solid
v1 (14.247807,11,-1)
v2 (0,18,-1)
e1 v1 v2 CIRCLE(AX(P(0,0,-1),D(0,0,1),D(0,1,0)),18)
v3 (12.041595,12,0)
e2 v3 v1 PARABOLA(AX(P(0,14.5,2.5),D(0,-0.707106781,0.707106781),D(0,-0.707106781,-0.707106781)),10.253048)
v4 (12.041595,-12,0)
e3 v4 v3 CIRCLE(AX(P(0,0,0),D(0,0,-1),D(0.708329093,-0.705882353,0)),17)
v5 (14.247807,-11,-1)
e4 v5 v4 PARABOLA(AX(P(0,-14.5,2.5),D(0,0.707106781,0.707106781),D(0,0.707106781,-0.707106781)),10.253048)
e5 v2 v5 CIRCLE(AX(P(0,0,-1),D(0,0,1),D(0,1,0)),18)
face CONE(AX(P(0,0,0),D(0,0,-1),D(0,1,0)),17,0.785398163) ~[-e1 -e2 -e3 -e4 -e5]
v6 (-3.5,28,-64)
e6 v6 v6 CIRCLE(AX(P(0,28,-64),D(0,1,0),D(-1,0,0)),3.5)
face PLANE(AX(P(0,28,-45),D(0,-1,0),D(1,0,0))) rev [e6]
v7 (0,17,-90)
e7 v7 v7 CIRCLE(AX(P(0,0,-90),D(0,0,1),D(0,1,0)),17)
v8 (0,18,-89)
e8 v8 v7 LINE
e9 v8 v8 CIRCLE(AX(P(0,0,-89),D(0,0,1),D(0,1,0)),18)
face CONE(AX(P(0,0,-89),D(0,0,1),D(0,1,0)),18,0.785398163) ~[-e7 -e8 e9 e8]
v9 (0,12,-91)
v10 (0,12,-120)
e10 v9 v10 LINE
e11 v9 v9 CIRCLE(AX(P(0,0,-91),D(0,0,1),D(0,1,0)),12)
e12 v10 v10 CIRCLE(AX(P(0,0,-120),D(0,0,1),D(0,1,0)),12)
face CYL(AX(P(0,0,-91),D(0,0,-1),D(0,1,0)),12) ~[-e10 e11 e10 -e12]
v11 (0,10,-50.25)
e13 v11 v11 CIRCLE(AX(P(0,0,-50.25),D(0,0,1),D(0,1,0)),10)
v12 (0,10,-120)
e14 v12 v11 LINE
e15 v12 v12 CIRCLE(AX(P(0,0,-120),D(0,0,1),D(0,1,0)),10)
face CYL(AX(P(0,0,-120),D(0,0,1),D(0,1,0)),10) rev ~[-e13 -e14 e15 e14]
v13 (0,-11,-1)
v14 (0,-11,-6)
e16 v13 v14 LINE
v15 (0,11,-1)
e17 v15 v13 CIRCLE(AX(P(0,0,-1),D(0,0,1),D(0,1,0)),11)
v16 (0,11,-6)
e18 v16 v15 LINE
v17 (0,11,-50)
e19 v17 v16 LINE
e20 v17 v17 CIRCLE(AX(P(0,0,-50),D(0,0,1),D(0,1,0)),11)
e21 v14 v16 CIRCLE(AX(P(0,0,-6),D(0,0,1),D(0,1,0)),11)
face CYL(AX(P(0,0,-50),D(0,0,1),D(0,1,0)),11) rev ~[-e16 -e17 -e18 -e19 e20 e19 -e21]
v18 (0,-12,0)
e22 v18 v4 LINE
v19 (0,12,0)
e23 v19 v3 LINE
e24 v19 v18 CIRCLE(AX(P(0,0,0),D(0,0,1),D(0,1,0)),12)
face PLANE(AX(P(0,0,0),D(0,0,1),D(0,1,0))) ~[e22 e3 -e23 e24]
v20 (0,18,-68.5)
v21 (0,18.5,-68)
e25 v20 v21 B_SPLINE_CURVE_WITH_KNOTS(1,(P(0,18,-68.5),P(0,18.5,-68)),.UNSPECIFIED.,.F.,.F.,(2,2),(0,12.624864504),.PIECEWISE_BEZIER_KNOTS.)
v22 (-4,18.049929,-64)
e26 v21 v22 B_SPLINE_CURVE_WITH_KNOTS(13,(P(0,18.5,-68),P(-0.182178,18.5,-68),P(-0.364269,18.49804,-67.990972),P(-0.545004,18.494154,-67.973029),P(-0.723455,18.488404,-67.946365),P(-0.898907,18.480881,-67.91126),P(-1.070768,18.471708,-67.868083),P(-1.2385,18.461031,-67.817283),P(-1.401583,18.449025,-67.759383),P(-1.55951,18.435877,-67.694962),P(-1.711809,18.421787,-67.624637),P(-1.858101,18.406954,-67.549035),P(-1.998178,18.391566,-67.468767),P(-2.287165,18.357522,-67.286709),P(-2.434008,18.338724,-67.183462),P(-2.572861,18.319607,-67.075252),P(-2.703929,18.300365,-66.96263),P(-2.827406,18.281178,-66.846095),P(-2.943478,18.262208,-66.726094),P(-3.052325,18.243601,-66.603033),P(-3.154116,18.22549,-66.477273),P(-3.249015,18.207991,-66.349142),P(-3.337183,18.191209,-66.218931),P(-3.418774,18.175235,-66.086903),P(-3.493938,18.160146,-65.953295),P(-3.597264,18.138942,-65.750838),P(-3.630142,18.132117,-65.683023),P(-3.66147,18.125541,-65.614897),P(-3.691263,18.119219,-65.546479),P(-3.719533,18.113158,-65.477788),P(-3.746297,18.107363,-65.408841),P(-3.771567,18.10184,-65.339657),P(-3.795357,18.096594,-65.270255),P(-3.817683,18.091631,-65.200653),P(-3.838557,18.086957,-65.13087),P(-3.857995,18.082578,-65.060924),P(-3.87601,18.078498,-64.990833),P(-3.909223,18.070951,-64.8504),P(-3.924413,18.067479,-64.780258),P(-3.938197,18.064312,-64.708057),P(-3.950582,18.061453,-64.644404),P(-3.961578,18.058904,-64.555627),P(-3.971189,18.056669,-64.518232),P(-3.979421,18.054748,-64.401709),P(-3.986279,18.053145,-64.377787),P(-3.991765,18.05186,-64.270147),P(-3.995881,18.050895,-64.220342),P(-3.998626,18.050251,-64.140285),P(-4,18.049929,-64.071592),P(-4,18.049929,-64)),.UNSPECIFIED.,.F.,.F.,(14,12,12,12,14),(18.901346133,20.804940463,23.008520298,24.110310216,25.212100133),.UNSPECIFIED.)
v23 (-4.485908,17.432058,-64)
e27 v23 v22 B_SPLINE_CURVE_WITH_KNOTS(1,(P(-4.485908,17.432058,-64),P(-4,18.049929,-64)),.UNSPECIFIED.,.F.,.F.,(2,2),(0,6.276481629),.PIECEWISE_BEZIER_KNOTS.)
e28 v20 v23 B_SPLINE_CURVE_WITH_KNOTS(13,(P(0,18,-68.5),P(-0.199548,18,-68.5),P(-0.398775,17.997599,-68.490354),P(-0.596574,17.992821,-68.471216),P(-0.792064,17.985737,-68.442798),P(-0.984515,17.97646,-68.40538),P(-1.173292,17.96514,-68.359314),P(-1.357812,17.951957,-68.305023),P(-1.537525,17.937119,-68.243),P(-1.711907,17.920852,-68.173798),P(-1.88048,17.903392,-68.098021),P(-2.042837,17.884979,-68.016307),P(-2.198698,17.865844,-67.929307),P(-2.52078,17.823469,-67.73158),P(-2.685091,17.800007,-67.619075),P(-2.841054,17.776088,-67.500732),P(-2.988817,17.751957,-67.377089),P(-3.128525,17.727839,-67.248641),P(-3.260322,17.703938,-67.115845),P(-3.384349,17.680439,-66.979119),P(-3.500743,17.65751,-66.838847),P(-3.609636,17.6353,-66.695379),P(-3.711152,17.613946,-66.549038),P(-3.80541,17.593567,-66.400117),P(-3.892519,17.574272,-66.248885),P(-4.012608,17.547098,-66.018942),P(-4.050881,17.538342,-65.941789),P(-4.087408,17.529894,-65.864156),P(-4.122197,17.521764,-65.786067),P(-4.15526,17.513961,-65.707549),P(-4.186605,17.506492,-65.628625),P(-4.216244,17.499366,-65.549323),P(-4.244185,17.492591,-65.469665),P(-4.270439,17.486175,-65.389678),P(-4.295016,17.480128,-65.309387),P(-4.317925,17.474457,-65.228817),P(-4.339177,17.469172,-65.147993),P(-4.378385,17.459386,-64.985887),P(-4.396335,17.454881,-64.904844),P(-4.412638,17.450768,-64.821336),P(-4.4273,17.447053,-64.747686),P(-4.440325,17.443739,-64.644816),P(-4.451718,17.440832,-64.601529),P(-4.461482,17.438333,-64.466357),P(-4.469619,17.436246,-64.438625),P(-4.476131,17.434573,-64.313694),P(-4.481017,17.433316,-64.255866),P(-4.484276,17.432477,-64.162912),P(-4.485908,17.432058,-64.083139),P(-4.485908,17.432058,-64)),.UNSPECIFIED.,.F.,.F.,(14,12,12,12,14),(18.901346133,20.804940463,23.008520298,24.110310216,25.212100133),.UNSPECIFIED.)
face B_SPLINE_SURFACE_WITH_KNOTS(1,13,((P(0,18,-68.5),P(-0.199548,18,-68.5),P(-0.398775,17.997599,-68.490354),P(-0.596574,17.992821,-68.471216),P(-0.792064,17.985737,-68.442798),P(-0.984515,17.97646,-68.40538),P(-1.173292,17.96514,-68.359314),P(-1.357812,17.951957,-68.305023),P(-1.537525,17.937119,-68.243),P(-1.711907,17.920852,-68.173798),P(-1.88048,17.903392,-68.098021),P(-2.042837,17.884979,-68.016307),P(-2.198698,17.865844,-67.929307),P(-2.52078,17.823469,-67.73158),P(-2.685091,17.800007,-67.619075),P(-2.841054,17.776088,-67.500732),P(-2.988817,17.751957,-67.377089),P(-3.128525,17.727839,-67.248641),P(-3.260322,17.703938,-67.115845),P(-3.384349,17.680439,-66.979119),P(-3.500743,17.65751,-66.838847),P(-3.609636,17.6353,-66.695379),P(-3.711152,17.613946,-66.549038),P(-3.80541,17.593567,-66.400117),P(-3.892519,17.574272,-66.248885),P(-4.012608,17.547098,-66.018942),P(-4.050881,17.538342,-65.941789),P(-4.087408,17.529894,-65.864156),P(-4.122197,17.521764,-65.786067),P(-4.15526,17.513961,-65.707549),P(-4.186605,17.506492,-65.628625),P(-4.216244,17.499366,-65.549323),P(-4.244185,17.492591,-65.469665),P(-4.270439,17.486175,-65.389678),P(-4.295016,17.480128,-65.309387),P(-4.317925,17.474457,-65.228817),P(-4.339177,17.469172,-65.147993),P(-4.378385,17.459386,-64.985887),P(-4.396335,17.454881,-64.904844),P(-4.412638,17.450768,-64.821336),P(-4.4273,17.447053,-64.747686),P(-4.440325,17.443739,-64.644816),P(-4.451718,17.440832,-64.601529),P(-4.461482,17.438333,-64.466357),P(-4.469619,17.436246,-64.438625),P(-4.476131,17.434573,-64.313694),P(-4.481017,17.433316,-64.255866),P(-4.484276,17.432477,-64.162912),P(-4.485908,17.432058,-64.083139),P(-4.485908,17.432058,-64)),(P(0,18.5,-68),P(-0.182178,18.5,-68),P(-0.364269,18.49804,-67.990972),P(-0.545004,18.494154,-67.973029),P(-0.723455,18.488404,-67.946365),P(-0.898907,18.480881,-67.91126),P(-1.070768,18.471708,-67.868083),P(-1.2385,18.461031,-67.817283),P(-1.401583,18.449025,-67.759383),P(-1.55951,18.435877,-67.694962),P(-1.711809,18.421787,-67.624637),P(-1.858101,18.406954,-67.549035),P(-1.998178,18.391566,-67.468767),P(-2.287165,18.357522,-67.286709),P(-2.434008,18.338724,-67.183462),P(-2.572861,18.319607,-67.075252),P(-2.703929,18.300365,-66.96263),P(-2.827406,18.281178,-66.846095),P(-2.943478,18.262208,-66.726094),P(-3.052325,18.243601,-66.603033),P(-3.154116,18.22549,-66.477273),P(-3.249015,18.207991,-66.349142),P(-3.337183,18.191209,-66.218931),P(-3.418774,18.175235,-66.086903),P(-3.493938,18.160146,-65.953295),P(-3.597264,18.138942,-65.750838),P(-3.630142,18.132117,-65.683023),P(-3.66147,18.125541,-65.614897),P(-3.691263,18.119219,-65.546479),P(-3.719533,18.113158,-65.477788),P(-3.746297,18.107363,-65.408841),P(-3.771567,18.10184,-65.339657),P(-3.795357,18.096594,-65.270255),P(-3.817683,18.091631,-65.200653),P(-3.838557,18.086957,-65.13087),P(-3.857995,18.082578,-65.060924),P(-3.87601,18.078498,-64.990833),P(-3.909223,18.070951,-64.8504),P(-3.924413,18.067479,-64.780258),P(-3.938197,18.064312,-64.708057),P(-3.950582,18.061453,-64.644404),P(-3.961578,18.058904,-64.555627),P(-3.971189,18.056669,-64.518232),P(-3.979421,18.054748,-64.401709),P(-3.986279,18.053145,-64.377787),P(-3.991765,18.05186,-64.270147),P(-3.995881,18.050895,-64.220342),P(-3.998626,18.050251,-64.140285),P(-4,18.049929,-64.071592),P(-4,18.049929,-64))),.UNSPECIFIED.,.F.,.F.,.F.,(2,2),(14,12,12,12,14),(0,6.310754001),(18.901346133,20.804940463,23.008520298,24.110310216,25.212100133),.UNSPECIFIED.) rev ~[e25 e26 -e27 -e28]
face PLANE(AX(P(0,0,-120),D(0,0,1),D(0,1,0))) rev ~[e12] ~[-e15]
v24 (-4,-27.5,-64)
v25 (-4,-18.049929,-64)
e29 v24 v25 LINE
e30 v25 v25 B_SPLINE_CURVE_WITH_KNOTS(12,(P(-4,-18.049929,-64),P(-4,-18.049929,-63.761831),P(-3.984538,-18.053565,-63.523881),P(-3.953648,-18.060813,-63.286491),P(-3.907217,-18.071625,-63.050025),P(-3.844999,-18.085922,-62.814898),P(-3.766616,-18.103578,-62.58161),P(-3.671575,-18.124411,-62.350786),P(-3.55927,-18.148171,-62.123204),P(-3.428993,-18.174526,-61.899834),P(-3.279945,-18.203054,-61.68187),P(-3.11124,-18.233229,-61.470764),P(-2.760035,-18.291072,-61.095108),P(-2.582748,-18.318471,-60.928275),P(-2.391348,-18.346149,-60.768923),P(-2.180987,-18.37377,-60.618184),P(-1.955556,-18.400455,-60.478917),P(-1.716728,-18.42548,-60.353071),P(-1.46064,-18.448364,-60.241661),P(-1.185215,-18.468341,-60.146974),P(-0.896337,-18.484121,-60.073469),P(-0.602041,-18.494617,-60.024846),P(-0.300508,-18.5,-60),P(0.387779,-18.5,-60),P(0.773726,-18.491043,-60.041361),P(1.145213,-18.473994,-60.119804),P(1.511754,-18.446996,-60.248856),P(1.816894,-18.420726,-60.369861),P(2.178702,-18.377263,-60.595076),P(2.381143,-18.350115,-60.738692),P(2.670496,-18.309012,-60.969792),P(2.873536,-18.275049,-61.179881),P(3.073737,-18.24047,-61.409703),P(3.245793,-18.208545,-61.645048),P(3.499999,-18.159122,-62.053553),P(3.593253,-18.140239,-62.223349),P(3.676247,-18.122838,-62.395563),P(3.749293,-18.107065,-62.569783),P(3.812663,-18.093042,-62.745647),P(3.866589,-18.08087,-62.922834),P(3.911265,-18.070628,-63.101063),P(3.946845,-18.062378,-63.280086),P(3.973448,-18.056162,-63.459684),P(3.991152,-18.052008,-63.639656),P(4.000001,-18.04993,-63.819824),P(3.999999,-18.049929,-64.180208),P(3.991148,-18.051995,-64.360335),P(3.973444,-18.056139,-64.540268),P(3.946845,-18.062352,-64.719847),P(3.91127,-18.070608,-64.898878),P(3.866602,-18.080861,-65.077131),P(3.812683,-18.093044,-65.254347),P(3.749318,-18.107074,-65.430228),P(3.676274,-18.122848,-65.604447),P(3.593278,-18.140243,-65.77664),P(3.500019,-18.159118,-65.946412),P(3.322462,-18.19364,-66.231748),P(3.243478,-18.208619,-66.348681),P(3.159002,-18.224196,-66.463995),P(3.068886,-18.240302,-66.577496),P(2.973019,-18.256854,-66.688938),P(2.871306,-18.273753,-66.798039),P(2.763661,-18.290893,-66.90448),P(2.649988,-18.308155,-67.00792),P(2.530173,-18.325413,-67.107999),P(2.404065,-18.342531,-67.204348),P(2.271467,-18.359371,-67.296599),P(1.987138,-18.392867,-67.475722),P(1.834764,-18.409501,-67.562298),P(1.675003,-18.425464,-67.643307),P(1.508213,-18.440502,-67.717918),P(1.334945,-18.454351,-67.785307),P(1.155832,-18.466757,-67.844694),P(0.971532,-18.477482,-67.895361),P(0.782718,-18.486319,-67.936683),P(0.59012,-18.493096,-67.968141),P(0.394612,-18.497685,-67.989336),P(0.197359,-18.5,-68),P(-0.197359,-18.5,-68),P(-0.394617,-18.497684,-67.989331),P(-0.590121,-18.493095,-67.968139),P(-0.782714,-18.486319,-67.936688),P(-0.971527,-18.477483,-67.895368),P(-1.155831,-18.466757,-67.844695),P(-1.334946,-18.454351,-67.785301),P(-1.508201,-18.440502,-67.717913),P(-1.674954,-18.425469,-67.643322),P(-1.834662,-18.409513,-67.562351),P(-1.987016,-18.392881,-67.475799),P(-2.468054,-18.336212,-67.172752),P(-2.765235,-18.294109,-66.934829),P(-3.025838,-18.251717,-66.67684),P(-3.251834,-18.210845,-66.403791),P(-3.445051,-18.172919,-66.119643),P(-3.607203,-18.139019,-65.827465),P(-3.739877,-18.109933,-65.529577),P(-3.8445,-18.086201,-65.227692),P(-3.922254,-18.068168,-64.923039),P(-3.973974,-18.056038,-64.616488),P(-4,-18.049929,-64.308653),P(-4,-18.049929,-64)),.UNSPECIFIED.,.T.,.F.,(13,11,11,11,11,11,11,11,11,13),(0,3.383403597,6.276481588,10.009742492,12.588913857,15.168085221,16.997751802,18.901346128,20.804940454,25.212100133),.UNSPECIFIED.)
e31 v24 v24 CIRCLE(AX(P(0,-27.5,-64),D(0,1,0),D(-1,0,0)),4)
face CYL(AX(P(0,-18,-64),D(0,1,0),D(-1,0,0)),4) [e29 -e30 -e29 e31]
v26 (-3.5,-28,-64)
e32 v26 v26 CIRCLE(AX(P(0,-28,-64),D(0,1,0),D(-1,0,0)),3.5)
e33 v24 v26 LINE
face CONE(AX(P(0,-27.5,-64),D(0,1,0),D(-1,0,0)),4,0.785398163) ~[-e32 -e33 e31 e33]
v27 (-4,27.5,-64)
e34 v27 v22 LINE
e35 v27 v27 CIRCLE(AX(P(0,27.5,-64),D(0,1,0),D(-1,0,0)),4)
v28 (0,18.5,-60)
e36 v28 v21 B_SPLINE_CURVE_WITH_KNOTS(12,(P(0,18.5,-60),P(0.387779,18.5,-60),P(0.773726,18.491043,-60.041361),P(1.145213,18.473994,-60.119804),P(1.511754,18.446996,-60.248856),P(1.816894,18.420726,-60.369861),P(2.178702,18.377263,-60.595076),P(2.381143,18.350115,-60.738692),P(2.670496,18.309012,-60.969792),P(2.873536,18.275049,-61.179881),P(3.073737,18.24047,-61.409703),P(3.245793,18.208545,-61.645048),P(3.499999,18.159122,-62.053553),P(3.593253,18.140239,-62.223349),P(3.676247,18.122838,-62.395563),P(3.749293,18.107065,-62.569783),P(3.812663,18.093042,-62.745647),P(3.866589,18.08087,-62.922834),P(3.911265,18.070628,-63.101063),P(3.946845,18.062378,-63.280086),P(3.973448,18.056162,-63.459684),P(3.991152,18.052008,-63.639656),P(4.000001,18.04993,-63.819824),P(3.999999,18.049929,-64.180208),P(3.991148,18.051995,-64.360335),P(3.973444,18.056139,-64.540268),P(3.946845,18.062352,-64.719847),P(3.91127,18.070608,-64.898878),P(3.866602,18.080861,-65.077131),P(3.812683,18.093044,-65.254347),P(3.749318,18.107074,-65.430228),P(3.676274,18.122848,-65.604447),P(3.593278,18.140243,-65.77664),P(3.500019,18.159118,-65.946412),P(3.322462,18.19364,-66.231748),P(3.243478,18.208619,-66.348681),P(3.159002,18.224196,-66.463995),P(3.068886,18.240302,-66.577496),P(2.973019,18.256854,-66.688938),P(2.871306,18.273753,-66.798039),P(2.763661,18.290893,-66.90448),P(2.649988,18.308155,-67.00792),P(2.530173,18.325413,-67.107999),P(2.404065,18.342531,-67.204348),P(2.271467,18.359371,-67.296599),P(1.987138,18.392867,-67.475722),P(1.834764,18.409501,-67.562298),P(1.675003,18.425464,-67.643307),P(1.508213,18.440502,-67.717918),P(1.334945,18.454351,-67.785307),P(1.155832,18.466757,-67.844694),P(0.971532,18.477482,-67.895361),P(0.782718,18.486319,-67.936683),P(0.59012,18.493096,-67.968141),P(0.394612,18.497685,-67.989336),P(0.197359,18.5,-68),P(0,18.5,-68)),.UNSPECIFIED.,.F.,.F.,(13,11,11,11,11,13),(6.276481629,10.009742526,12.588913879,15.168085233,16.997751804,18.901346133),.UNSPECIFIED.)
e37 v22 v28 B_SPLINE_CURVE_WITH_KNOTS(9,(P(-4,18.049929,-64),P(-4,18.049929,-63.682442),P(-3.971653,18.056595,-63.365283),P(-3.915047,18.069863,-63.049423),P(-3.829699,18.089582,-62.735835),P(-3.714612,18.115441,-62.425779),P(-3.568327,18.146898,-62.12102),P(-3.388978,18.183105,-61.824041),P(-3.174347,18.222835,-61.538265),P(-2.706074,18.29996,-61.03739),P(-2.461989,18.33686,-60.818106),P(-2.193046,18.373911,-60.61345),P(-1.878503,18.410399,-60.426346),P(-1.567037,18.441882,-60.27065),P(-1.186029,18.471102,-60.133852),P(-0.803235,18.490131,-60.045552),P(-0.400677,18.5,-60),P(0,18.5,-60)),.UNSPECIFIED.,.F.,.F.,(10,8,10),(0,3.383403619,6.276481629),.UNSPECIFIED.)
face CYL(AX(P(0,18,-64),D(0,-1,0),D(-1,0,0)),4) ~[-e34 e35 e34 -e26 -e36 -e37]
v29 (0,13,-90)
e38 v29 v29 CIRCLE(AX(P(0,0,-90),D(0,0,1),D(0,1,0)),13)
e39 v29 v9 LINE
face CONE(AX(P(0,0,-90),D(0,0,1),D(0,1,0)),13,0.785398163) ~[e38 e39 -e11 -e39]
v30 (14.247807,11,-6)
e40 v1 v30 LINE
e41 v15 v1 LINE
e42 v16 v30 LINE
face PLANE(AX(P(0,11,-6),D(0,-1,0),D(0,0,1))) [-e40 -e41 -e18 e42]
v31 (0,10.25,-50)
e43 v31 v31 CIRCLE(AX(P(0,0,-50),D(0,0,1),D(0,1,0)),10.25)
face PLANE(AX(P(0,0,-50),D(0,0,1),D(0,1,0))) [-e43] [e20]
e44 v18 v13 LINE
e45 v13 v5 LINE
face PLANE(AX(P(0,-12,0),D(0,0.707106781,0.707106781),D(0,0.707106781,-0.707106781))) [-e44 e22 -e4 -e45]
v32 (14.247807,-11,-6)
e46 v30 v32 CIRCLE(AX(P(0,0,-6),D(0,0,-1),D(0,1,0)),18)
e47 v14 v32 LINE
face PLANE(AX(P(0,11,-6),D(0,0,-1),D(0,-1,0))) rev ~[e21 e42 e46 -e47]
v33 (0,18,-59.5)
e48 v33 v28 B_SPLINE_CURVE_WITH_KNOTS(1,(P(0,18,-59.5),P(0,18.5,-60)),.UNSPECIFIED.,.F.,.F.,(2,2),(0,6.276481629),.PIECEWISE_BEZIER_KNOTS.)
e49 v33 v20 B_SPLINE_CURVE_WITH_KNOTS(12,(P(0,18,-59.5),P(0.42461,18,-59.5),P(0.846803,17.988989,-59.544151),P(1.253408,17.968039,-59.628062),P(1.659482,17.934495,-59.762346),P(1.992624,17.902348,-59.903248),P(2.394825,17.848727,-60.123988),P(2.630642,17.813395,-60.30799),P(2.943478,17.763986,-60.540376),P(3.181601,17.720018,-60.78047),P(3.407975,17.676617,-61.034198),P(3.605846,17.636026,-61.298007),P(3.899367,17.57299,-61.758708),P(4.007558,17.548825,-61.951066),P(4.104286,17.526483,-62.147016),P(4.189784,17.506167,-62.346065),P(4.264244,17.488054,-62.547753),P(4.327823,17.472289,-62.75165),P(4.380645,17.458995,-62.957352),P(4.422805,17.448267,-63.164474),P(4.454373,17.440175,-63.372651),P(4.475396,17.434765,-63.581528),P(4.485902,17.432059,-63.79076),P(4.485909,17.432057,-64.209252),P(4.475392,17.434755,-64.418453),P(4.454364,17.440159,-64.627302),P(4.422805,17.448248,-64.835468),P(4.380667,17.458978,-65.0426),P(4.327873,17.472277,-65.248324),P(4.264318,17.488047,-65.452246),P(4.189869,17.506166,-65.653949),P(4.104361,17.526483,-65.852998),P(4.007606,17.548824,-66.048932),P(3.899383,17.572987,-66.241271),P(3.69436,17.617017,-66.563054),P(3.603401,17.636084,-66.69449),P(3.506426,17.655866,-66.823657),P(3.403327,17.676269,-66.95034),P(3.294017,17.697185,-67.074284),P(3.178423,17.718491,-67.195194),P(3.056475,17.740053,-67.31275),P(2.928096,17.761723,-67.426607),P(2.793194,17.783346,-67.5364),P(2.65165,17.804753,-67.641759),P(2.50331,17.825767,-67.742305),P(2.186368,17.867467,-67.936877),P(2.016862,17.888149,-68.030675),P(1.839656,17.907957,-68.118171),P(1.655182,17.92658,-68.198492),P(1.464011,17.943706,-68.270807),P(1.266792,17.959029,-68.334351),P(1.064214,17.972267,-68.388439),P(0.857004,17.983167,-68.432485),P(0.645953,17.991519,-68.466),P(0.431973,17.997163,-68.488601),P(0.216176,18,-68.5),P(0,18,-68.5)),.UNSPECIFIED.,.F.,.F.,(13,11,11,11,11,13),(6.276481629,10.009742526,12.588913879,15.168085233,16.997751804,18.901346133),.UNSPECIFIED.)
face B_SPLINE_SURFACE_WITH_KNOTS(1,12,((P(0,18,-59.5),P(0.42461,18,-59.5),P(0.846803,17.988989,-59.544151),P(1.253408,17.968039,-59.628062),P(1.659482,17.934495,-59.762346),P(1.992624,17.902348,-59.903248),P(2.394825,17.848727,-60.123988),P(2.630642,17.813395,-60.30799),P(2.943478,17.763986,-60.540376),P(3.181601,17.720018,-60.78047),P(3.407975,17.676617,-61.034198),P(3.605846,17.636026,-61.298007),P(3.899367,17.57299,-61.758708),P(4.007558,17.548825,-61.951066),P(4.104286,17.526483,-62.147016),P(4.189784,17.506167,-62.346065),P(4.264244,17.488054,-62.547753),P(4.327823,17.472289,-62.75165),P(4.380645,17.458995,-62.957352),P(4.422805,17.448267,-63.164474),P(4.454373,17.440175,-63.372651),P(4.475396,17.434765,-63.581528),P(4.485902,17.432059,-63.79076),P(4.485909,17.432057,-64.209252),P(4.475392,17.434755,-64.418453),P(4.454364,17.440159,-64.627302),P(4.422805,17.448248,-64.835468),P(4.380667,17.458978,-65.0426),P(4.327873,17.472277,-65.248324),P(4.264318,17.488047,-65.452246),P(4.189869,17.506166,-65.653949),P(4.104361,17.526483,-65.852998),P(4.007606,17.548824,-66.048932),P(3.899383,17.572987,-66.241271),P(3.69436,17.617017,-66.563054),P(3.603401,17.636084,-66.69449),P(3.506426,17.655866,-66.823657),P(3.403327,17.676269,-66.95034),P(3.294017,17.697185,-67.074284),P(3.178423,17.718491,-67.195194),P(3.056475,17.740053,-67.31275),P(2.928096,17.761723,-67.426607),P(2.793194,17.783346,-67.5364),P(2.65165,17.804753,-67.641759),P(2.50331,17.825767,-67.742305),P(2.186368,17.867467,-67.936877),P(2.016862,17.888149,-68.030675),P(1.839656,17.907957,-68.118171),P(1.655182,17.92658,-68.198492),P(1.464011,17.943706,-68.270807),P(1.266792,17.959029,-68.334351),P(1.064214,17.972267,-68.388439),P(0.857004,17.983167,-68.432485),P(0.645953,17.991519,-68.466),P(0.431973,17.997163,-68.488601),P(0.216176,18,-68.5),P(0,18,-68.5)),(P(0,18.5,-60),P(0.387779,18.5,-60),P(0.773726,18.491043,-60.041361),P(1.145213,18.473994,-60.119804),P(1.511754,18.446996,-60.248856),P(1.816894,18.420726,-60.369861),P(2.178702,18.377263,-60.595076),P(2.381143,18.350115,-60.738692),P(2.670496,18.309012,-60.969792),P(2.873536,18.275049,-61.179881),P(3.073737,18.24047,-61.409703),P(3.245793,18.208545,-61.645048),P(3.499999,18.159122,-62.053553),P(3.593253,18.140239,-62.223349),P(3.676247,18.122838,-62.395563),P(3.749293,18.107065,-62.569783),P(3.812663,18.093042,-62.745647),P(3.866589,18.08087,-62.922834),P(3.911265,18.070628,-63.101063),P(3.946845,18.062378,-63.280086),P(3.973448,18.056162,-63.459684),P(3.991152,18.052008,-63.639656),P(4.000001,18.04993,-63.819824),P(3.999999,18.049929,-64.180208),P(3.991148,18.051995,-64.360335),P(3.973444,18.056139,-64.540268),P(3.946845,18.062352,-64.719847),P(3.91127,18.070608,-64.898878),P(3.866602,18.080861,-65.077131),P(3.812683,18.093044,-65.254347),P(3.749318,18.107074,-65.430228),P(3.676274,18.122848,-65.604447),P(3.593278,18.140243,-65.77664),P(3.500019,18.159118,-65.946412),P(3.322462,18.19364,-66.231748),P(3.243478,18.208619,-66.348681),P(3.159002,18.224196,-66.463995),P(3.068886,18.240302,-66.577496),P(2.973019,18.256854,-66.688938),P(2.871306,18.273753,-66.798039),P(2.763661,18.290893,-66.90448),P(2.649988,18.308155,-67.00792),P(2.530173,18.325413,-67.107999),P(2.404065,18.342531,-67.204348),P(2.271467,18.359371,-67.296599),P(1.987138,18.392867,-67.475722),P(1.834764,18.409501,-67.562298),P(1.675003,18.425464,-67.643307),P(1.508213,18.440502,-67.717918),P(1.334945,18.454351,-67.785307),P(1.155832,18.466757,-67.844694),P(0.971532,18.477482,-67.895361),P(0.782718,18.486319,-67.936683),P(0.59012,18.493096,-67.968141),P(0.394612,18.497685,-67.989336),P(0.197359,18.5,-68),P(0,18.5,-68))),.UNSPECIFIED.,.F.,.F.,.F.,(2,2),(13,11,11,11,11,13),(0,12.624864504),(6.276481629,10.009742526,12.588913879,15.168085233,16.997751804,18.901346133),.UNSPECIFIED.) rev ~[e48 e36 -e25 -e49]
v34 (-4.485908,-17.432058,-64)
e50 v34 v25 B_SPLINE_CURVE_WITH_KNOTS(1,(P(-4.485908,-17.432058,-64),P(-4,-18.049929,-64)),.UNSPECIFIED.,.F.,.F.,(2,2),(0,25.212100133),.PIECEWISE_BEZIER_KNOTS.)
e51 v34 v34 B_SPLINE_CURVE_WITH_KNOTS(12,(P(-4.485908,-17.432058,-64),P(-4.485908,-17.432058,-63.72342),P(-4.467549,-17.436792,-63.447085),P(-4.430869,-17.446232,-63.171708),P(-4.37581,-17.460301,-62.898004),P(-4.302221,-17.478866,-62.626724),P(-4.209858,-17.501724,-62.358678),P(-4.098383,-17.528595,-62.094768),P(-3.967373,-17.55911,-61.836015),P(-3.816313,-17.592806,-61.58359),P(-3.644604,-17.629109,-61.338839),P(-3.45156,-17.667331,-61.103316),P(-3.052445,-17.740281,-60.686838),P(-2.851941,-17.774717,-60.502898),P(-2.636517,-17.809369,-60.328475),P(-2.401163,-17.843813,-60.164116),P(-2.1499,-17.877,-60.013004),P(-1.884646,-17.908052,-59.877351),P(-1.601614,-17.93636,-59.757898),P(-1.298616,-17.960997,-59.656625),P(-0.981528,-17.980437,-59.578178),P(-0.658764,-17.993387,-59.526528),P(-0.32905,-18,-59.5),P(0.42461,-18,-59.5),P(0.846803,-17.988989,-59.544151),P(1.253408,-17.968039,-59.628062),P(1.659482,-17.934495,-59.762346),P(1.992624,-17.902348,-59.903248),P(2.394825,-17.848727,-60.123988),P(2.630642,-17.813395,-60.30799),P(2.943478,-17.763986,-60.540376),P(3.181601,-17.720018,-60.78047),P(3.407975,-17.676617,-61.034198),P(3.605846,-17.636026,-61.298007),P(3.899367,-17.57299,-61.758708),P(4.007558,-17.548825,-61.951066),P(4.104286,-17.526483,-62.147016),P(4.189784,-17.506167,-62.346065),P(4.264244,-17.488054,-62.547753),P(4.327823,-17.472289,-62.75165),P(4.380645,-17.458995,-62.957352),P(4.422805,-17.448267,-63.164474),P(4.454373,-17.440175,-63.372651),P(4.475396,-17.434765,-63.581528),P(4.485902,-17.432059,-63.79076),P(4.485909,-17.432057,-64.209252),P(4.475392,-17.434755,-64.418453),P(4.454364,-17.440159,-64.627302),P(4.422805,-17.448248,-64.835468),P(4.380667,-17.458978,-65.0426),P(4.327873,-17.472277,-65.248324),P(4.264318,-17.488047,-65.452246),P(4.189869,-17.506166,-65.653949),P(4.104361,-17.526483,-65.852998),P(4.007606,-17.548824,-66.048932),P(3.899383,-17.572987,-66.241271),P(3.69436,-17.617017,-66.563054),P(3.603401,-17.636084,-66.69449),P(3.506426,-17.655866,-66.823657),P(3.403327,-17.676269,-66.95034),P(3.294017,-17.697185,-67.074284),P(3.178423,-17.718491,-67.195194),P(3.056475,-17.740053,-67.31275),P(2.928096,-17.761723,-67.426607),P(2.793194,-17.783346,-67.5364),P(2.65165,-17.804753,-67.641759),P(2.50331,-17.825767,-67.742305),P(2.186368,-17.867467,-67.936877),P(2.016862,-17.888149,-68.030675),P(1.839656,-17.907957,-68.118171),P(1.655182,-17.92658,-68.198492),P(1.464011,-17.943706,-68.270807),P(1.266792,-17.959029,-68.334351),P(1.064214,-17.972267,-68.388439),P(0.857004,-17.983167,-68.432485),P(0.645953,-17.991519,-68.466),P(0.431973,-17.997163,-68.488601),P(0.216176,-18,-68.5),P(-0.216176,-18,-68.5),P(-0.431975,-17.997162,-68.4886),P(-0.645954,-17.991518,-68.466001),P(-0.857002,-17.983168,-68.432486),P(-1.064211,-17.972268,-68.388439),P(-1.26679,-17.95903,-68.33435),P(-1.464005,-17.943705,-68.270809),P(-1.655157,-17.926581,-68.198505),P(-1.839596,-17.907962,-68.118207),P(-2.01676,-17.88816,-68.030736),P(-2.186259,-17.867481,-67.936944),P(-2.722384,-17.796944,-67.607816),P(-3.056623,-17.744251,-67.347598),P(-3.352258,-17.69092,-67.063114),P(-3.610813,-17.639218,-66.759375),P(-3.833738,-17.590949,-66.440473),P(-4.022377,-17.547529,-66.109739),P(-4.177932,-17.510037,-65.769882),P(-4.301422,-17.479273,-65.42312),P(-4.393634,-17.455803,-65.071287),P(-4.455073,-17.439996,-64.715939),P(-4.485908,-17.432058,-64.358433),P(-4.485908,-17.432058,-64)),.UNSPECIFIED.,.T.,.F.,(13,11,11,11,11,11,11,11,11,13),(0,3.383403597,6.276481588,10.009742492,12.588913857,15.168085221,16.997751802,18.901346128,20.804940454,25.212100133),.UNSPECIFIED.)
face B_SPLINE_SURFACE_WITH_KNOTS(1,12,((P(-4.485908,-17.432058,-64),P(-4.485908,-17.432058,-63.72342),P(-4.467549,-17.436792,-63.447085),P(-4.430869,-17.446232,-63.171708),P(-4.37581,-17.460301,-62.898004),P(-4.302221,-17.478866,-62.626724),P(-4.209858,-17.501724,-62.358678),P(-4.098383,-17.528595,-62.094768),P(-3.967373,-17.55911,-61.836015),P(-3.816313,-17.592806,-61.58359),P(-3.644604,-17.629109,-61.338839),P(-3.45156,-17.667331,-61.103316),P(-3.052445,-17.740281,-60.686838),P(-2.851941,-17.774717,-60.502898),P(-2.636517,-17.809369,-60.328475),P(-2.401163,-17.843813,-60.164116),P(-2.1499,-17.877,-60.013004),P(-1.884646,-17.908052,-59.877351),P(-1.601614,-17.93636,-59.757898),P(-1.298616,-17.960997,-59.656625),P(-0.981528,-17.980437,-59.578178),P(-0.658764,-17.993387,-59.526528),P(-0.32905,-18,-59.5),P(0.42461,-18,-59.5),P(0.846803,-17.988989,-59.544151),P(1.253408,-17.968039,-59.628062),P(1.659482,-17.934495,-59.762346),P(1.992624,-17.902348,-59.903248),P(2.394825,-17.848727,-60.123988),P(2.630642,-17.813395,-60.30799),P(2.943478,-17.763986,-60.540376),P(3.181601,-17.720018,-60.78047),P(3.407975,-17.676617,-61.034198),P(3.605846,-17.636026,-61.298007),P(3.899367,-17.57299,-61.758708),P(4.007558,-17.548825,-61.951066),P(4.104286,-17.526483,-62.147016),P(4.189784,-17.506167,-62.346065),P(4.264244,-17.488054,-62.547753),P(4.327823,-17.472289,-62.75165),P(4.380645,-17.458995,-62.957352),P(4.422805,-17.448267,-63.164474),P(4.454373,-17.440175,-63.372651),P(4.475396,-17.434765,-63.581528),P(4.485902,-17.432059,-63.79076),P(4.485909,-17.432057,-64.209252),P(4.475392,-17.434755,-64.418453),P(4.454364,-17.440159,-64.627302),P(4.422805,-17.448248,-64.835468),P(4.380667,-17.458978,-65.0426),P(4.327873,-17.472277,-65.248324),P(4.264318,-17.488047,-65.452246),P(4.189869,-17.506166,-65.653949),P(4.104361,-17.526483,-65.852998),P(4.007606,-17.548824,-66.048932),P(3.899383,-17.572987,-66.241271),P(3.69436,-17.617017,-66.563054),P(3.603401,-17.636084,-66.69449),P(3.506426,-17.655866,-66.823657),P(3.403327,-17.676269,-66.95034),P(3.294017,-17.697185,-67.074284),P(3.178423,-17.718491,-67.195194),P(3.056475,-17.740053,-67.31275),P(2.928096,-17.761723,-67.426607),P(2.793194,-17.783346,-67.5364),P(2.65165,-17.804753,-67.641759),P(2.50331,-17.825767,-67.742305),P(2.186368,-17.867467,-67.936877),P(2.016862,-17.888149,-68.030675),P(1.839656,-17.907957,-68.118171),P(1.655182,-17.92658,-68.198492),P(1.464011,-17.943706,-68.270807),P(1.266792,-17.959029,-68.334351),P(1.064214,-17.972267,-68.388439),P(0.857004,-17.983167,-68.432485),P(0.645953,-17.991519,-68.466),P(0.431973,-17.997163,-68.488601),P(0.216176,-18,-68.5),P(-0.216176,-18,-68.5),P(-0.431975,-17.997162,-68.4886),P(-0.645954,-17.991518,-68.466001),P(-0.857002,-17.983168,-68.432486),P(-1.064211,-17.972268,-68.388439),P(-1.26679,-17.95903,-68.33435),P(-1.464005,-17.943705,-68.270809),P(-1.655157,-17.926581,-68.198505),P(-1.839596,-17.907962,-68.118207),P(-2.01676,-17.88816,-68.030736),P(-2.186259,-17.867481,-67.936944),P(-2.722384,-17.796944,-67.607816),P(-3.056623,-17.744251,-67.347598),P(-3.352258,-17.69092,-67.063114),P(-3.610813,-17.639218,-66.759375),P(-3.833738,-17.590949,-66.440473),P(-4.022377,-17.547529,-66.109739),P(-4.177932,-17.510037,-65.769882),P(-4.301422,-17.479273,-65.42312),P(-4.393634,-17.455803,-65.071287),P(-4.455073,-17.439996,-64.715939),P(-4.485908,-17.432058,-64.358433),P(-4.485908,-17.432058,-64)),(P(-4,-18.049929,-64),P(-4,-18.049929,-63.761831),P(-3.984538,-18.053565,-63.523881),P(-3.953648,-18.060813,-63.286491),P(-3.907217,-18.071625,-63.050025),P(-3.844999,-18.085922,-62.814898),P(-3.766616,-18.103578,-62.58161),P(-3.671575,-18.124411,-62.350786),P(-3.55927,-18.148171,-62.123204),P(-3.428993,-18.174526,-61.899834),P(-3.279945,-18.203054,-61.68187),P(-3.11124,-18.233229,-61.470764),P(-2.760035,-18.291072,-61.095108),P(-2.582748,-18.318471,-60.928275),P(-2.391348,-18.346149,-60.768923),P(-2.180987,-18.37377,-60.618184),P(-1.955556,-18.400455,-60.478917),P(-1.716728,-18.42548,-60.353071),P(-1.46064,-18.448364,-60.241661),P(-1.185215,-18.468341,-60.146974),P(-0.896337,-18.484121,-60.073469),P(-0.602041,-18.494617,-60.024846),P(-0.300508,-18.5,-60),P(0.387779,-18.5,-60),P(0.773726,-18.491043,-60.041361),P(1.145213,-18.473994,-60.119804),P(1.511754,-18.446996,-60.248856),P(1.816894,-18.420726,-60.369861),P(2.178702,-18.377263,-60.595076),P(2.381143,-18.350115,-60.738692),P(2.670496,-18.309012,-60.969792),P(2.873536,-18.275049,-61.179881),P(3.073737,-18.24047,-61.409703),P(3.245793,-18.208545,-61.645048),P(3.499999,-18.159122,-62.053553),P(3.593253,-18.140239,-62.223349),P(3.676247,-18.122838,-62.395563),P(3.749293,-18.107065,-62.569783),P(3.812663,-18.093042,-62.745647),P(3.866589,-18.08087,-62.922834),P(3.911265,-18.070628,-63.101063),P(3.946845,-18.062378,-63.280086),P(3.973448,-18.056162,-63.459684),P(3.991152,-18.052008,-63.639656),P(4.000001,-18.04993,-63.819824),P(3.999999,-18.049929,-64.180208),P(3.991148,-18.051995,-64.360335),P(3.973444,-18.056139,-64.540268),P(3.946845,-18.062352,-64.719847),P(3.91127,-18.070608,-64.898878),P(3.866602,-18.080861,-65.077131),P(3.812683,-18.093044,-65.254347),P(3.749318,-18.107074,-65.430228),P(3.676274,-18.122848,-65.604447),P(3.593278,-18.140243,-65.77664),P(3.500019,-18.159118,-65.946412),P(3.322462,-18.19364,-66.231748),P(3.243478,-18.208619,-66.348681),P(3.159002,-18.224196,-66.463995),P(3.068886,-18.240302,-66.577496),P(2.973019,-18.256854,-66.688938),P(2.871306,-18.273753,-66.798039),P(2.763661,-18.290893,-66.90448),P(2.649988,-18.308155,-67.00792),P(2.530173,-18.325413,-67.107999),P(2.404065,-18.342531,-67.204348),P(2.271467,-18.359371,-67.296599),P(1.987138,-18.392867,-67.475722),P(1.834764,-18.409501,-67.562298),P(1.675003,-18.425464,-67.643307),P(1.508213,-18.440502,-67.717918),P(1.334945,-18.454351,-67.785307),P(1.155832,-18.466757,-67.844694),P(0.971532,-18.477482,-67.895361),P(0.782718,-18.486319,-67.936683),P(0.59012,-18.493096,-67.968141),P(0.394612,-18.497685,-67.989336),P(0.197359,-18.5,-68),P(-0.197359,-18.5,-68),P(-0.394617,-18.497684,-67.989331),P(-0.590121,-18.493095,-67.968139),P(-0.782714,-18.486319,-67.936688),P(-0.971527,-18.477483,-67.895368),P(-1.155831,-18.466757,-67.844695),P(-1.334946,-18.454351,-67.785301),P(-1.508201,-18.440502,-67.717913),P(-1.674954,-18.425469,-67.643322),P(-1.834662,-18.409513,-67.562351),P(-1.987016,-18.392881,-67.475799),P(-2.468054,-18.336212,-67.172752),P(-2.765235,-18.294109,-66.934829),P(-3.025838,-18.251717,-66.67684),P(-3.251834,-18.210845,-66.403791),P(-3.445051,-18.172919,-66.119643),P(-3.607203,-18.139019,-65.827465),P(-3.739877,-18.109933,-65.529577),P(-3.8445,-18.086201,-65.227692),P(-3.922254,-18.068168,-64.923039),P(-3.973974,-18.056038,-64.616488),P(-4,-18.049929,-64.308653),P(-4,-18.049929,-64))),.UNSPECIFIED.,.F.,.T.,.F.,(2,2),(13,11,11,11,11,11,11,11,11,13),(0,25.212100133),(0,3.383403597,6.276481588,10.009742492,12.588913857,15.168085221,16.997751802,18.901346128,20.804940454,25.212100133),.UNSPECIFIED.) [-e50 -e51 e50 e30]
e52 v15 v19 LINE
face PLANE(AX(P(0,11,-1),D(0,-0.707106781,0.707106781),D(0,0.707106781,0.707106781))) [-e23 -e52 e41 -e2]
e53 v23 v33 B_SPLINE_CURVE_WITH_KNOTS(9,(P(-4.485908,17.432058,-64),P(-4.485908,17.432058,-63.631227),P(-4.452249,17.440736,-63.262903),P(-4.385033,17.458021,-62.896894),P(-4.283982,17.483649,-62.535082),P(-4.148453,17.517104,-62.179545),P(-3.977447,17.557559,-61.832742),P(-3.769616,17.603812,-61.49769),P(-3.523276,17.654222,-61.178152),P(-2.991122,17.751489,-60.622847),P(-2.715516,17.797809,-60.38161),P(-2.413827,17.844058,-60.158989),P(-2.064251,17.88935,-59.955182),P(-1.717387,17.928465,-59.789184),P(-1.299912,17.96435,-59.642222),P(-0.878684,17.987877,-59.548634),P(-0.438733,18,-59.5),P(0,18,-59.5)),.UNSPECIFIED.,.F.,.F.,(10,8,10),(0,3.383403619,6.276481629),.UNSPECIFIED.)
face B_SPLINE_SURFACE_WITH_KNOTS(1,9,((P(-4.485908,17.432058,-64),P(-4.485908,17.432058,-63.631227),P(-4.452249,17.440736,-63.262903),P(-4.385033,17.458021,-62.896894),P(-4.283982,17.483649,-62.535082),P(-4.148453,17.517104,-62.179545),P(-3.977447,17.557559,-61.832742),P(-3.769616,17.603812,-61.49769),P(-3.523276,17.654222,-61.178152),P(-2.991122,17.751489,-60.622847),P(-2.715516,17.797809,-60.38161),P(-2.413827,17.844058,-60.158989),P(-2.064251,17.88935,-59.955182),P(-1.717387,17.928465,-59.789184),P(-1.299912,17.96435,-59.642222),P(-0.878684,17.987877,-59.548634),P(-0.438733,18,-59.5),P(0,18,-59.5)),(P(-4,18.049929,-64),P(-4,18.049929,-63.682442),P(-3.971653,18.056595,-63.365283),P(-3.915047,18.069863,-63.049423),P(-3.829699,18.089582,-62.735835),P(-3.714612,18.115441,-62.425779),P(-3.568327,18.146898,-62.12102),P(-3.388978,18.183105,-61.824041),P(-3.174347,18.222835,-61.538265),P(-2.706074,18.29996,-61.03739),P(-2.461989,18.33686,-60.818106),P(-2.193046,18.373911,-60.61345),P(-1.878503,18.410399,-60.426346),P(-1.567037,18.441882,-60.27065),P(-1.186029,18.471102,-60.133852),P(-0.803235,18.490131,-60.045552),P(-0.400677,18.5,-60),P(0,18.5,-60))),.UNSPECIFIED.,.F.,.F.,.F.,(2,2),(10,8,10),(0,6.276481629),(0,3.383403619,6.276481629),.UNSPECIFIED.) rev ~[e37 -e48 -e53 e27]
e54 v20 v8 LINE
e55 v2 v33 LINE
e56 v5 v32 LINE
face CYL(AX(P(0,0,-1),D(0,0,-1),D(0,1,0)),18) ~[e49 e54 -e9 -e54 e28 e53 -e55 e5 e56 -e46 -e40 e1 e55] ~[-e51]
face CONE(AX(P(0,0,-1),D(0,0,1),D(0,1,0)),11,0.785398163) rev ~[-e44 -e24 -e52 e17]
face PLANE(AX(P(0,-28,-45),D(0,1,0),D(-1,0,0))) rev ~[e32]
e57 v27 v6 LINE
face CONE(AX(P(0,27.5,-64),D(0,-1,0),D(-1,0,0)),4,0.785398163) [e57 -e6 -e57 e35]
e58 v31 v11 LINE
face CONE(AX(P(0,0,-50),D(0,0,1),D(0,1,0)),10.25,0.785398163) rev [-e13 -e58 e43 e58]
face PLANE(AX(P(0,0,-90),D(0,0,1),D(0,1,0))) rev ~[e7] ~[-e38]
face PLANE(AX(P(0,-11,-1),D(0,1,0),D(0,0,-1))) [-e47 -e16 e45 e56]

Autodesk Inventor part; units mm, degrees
ref_plane "YZ Plane" through (0, 0, 0) normal (1, 0, 0) x (0, 1, 0)
ref_plane "XY Plane" through (0, 0, 0) normal (0, 0, 1) x (1, 0, 0)
sketch "Esquisse3" plane through (0, 0, 0) normal (1, 0, 0) x (0, 1, 0)
  line L0 (17, 0) -> (18, -1)
  line L1 (18, -1) -> (18, -89)
  line L2 (18, -89) -> (17, -90)
  line L3 (17, -90) -> (13, -90)
  line L4 (13, -90) -> (12, -91)
  line L5 (12, -91) -> (12, -120)
  line L6 (12, -120) -> (10, -120)
  line L7 (10, -120) -> (10, -50.25)
  line L8 (11, -50) -> (11, -1)
  line L9 (11, -1) -> (12, 0)
  line L10 (12, 0) -> (17, 0)
  line L11 (0, -144) -> (0, 24) projected
  line L12 (11, -50) -> (10.25, -50)
  line L13 (10.25, -50) -> (10, -50.25)
  point P0 (0, 0)
  dimension "d4" = 1
  dimension "d5" = 1
  dimension "d6" = 11
  dimension "d7" = 10
  dimension "d8" = 1
  dimension "d9" = 1
  dimension "d10" = 18
  dimension "d11" = 50
  dimension "d12" = 40
  dimension "d13" = 1
  dimension "d14" = 1
  dimension "d16" = 1
  dimension "d17" = 1
  dimension "d18" = 30
  dimension "d20" = 0.25
  dimension "d21" = 0.25
revolve "Révolution1" add sketch "Esquisse3" angle 360 about axis through (0, 0, -10) along (0, 0, 1)
sketch "Esquisse4" plane through (0, 0, 0) normal (1, 0, 0) x (0, 1, 0)
  line L0 (18, -1) -> (18, -89) projected
  line L1 (18, -89) -> (17, -90) projected
  line L2 (17, -90) -> (13, -90) projected
  line L3 (13, -90) -> (12, -91) projected
  line L4 (12, -91) -> (12, -120) projected
  line L5 (12, -120) -> (10, -120) projected
  line L6 (10, -120) -> (10, -50.25) projected
  line L7 (10, -50.25) -> (10.25, -50) projected
  line L8 (10.25, -50) -> (11, -50) projected
  line L9 (11, -50) -> (11, -1) projected
  line L10 (11, -1) -> (12, 0) projected
  line L11 (12, 0) -> (17, 0) projected
  line L12 (17, 0) -> (18, -1) projected
  line L13 (-18, -89) -> (-18, -1) projected
  line L14 (-18, -1) -> (-17, 0) projected
  line L15 (-17, 0) -> (-12, 0) projected
  line L16 (-12, 0) -> (-11, -1) projected
  line L17 (-11, -1) -> (-11, -50) projected
  line L18 (-11, -50) -> (-10.25, -50) projected
  line L19 (-10.25, -50) -> (-10, -50.25) projected
  line L20 (-10, -50.25) -> (-10, -120) projected
  line L21 (-10, -120) -> (-12, -120) projected
  line L22 (-12, -120) -> (-12, -91) projected
  line L23 (-12, -91) -> (-13, -90) projected
  line L24 (-13, -90) -> (-17, -90) projected
  line L25 (-17, -90) -> (-18, -89) projected
  line L26 (12, 0) -> (-12, 0)
  line L27 (11, -50) -> (11, -1) projected
  line L28 (11, -6) -> (-11, -6)
  point P0 (0, 0)
  dimension "d22" = 6
extrude "Extrusion3" cut sketch "Esquisse4" along normal up to surface contours L10 L9 L28 L17 L16 L26
ref_plane "Plan de construction1" through (0, -18, -45) normal (0, 1, 0) x (-1, 0, 0)
sketch "Esquisse5" plane through (0, -18, -45) normal (0, 1, 0) x (-1, 0, 0)
  circle A0 centre (0, -19) radius 4
  line L0 (0, -99) -> (0, 69) projected
  point P0 (0, 45)
  point P1 (12.0416, 35)
  point P2 (17, 45)
  dimension "d25" = 8
  dimension "d26" = 64
extrude "Extrusion4" add sketch "Esquisse5" along normal blind 2 and the other way blind 10
chamfer "Chanfrein1" distance 0.5 angle 45 4 edges at (-3.0446, -17.7406, -61.4057) (4, -17.5499, -63.9963) (-3.0454, -17.7405, -66.5934) (4, -28, -64)
mirror "Symétrie1" about plane through (0, 0, 0) normal (0, 1, 0) of "Extrusion4", "Chanfrein1"
equation "\"d5\" = d4"
equation "\"d8\" = d4"
equation "\"d9\" = d4"
equation "\"d14\" = d13"
equation "\"d16\" = d13"
equation "\"d17\" = d13"
equation "\"d21\" = d20"
properties part number "canon" material "S235JR (E24-2)"
